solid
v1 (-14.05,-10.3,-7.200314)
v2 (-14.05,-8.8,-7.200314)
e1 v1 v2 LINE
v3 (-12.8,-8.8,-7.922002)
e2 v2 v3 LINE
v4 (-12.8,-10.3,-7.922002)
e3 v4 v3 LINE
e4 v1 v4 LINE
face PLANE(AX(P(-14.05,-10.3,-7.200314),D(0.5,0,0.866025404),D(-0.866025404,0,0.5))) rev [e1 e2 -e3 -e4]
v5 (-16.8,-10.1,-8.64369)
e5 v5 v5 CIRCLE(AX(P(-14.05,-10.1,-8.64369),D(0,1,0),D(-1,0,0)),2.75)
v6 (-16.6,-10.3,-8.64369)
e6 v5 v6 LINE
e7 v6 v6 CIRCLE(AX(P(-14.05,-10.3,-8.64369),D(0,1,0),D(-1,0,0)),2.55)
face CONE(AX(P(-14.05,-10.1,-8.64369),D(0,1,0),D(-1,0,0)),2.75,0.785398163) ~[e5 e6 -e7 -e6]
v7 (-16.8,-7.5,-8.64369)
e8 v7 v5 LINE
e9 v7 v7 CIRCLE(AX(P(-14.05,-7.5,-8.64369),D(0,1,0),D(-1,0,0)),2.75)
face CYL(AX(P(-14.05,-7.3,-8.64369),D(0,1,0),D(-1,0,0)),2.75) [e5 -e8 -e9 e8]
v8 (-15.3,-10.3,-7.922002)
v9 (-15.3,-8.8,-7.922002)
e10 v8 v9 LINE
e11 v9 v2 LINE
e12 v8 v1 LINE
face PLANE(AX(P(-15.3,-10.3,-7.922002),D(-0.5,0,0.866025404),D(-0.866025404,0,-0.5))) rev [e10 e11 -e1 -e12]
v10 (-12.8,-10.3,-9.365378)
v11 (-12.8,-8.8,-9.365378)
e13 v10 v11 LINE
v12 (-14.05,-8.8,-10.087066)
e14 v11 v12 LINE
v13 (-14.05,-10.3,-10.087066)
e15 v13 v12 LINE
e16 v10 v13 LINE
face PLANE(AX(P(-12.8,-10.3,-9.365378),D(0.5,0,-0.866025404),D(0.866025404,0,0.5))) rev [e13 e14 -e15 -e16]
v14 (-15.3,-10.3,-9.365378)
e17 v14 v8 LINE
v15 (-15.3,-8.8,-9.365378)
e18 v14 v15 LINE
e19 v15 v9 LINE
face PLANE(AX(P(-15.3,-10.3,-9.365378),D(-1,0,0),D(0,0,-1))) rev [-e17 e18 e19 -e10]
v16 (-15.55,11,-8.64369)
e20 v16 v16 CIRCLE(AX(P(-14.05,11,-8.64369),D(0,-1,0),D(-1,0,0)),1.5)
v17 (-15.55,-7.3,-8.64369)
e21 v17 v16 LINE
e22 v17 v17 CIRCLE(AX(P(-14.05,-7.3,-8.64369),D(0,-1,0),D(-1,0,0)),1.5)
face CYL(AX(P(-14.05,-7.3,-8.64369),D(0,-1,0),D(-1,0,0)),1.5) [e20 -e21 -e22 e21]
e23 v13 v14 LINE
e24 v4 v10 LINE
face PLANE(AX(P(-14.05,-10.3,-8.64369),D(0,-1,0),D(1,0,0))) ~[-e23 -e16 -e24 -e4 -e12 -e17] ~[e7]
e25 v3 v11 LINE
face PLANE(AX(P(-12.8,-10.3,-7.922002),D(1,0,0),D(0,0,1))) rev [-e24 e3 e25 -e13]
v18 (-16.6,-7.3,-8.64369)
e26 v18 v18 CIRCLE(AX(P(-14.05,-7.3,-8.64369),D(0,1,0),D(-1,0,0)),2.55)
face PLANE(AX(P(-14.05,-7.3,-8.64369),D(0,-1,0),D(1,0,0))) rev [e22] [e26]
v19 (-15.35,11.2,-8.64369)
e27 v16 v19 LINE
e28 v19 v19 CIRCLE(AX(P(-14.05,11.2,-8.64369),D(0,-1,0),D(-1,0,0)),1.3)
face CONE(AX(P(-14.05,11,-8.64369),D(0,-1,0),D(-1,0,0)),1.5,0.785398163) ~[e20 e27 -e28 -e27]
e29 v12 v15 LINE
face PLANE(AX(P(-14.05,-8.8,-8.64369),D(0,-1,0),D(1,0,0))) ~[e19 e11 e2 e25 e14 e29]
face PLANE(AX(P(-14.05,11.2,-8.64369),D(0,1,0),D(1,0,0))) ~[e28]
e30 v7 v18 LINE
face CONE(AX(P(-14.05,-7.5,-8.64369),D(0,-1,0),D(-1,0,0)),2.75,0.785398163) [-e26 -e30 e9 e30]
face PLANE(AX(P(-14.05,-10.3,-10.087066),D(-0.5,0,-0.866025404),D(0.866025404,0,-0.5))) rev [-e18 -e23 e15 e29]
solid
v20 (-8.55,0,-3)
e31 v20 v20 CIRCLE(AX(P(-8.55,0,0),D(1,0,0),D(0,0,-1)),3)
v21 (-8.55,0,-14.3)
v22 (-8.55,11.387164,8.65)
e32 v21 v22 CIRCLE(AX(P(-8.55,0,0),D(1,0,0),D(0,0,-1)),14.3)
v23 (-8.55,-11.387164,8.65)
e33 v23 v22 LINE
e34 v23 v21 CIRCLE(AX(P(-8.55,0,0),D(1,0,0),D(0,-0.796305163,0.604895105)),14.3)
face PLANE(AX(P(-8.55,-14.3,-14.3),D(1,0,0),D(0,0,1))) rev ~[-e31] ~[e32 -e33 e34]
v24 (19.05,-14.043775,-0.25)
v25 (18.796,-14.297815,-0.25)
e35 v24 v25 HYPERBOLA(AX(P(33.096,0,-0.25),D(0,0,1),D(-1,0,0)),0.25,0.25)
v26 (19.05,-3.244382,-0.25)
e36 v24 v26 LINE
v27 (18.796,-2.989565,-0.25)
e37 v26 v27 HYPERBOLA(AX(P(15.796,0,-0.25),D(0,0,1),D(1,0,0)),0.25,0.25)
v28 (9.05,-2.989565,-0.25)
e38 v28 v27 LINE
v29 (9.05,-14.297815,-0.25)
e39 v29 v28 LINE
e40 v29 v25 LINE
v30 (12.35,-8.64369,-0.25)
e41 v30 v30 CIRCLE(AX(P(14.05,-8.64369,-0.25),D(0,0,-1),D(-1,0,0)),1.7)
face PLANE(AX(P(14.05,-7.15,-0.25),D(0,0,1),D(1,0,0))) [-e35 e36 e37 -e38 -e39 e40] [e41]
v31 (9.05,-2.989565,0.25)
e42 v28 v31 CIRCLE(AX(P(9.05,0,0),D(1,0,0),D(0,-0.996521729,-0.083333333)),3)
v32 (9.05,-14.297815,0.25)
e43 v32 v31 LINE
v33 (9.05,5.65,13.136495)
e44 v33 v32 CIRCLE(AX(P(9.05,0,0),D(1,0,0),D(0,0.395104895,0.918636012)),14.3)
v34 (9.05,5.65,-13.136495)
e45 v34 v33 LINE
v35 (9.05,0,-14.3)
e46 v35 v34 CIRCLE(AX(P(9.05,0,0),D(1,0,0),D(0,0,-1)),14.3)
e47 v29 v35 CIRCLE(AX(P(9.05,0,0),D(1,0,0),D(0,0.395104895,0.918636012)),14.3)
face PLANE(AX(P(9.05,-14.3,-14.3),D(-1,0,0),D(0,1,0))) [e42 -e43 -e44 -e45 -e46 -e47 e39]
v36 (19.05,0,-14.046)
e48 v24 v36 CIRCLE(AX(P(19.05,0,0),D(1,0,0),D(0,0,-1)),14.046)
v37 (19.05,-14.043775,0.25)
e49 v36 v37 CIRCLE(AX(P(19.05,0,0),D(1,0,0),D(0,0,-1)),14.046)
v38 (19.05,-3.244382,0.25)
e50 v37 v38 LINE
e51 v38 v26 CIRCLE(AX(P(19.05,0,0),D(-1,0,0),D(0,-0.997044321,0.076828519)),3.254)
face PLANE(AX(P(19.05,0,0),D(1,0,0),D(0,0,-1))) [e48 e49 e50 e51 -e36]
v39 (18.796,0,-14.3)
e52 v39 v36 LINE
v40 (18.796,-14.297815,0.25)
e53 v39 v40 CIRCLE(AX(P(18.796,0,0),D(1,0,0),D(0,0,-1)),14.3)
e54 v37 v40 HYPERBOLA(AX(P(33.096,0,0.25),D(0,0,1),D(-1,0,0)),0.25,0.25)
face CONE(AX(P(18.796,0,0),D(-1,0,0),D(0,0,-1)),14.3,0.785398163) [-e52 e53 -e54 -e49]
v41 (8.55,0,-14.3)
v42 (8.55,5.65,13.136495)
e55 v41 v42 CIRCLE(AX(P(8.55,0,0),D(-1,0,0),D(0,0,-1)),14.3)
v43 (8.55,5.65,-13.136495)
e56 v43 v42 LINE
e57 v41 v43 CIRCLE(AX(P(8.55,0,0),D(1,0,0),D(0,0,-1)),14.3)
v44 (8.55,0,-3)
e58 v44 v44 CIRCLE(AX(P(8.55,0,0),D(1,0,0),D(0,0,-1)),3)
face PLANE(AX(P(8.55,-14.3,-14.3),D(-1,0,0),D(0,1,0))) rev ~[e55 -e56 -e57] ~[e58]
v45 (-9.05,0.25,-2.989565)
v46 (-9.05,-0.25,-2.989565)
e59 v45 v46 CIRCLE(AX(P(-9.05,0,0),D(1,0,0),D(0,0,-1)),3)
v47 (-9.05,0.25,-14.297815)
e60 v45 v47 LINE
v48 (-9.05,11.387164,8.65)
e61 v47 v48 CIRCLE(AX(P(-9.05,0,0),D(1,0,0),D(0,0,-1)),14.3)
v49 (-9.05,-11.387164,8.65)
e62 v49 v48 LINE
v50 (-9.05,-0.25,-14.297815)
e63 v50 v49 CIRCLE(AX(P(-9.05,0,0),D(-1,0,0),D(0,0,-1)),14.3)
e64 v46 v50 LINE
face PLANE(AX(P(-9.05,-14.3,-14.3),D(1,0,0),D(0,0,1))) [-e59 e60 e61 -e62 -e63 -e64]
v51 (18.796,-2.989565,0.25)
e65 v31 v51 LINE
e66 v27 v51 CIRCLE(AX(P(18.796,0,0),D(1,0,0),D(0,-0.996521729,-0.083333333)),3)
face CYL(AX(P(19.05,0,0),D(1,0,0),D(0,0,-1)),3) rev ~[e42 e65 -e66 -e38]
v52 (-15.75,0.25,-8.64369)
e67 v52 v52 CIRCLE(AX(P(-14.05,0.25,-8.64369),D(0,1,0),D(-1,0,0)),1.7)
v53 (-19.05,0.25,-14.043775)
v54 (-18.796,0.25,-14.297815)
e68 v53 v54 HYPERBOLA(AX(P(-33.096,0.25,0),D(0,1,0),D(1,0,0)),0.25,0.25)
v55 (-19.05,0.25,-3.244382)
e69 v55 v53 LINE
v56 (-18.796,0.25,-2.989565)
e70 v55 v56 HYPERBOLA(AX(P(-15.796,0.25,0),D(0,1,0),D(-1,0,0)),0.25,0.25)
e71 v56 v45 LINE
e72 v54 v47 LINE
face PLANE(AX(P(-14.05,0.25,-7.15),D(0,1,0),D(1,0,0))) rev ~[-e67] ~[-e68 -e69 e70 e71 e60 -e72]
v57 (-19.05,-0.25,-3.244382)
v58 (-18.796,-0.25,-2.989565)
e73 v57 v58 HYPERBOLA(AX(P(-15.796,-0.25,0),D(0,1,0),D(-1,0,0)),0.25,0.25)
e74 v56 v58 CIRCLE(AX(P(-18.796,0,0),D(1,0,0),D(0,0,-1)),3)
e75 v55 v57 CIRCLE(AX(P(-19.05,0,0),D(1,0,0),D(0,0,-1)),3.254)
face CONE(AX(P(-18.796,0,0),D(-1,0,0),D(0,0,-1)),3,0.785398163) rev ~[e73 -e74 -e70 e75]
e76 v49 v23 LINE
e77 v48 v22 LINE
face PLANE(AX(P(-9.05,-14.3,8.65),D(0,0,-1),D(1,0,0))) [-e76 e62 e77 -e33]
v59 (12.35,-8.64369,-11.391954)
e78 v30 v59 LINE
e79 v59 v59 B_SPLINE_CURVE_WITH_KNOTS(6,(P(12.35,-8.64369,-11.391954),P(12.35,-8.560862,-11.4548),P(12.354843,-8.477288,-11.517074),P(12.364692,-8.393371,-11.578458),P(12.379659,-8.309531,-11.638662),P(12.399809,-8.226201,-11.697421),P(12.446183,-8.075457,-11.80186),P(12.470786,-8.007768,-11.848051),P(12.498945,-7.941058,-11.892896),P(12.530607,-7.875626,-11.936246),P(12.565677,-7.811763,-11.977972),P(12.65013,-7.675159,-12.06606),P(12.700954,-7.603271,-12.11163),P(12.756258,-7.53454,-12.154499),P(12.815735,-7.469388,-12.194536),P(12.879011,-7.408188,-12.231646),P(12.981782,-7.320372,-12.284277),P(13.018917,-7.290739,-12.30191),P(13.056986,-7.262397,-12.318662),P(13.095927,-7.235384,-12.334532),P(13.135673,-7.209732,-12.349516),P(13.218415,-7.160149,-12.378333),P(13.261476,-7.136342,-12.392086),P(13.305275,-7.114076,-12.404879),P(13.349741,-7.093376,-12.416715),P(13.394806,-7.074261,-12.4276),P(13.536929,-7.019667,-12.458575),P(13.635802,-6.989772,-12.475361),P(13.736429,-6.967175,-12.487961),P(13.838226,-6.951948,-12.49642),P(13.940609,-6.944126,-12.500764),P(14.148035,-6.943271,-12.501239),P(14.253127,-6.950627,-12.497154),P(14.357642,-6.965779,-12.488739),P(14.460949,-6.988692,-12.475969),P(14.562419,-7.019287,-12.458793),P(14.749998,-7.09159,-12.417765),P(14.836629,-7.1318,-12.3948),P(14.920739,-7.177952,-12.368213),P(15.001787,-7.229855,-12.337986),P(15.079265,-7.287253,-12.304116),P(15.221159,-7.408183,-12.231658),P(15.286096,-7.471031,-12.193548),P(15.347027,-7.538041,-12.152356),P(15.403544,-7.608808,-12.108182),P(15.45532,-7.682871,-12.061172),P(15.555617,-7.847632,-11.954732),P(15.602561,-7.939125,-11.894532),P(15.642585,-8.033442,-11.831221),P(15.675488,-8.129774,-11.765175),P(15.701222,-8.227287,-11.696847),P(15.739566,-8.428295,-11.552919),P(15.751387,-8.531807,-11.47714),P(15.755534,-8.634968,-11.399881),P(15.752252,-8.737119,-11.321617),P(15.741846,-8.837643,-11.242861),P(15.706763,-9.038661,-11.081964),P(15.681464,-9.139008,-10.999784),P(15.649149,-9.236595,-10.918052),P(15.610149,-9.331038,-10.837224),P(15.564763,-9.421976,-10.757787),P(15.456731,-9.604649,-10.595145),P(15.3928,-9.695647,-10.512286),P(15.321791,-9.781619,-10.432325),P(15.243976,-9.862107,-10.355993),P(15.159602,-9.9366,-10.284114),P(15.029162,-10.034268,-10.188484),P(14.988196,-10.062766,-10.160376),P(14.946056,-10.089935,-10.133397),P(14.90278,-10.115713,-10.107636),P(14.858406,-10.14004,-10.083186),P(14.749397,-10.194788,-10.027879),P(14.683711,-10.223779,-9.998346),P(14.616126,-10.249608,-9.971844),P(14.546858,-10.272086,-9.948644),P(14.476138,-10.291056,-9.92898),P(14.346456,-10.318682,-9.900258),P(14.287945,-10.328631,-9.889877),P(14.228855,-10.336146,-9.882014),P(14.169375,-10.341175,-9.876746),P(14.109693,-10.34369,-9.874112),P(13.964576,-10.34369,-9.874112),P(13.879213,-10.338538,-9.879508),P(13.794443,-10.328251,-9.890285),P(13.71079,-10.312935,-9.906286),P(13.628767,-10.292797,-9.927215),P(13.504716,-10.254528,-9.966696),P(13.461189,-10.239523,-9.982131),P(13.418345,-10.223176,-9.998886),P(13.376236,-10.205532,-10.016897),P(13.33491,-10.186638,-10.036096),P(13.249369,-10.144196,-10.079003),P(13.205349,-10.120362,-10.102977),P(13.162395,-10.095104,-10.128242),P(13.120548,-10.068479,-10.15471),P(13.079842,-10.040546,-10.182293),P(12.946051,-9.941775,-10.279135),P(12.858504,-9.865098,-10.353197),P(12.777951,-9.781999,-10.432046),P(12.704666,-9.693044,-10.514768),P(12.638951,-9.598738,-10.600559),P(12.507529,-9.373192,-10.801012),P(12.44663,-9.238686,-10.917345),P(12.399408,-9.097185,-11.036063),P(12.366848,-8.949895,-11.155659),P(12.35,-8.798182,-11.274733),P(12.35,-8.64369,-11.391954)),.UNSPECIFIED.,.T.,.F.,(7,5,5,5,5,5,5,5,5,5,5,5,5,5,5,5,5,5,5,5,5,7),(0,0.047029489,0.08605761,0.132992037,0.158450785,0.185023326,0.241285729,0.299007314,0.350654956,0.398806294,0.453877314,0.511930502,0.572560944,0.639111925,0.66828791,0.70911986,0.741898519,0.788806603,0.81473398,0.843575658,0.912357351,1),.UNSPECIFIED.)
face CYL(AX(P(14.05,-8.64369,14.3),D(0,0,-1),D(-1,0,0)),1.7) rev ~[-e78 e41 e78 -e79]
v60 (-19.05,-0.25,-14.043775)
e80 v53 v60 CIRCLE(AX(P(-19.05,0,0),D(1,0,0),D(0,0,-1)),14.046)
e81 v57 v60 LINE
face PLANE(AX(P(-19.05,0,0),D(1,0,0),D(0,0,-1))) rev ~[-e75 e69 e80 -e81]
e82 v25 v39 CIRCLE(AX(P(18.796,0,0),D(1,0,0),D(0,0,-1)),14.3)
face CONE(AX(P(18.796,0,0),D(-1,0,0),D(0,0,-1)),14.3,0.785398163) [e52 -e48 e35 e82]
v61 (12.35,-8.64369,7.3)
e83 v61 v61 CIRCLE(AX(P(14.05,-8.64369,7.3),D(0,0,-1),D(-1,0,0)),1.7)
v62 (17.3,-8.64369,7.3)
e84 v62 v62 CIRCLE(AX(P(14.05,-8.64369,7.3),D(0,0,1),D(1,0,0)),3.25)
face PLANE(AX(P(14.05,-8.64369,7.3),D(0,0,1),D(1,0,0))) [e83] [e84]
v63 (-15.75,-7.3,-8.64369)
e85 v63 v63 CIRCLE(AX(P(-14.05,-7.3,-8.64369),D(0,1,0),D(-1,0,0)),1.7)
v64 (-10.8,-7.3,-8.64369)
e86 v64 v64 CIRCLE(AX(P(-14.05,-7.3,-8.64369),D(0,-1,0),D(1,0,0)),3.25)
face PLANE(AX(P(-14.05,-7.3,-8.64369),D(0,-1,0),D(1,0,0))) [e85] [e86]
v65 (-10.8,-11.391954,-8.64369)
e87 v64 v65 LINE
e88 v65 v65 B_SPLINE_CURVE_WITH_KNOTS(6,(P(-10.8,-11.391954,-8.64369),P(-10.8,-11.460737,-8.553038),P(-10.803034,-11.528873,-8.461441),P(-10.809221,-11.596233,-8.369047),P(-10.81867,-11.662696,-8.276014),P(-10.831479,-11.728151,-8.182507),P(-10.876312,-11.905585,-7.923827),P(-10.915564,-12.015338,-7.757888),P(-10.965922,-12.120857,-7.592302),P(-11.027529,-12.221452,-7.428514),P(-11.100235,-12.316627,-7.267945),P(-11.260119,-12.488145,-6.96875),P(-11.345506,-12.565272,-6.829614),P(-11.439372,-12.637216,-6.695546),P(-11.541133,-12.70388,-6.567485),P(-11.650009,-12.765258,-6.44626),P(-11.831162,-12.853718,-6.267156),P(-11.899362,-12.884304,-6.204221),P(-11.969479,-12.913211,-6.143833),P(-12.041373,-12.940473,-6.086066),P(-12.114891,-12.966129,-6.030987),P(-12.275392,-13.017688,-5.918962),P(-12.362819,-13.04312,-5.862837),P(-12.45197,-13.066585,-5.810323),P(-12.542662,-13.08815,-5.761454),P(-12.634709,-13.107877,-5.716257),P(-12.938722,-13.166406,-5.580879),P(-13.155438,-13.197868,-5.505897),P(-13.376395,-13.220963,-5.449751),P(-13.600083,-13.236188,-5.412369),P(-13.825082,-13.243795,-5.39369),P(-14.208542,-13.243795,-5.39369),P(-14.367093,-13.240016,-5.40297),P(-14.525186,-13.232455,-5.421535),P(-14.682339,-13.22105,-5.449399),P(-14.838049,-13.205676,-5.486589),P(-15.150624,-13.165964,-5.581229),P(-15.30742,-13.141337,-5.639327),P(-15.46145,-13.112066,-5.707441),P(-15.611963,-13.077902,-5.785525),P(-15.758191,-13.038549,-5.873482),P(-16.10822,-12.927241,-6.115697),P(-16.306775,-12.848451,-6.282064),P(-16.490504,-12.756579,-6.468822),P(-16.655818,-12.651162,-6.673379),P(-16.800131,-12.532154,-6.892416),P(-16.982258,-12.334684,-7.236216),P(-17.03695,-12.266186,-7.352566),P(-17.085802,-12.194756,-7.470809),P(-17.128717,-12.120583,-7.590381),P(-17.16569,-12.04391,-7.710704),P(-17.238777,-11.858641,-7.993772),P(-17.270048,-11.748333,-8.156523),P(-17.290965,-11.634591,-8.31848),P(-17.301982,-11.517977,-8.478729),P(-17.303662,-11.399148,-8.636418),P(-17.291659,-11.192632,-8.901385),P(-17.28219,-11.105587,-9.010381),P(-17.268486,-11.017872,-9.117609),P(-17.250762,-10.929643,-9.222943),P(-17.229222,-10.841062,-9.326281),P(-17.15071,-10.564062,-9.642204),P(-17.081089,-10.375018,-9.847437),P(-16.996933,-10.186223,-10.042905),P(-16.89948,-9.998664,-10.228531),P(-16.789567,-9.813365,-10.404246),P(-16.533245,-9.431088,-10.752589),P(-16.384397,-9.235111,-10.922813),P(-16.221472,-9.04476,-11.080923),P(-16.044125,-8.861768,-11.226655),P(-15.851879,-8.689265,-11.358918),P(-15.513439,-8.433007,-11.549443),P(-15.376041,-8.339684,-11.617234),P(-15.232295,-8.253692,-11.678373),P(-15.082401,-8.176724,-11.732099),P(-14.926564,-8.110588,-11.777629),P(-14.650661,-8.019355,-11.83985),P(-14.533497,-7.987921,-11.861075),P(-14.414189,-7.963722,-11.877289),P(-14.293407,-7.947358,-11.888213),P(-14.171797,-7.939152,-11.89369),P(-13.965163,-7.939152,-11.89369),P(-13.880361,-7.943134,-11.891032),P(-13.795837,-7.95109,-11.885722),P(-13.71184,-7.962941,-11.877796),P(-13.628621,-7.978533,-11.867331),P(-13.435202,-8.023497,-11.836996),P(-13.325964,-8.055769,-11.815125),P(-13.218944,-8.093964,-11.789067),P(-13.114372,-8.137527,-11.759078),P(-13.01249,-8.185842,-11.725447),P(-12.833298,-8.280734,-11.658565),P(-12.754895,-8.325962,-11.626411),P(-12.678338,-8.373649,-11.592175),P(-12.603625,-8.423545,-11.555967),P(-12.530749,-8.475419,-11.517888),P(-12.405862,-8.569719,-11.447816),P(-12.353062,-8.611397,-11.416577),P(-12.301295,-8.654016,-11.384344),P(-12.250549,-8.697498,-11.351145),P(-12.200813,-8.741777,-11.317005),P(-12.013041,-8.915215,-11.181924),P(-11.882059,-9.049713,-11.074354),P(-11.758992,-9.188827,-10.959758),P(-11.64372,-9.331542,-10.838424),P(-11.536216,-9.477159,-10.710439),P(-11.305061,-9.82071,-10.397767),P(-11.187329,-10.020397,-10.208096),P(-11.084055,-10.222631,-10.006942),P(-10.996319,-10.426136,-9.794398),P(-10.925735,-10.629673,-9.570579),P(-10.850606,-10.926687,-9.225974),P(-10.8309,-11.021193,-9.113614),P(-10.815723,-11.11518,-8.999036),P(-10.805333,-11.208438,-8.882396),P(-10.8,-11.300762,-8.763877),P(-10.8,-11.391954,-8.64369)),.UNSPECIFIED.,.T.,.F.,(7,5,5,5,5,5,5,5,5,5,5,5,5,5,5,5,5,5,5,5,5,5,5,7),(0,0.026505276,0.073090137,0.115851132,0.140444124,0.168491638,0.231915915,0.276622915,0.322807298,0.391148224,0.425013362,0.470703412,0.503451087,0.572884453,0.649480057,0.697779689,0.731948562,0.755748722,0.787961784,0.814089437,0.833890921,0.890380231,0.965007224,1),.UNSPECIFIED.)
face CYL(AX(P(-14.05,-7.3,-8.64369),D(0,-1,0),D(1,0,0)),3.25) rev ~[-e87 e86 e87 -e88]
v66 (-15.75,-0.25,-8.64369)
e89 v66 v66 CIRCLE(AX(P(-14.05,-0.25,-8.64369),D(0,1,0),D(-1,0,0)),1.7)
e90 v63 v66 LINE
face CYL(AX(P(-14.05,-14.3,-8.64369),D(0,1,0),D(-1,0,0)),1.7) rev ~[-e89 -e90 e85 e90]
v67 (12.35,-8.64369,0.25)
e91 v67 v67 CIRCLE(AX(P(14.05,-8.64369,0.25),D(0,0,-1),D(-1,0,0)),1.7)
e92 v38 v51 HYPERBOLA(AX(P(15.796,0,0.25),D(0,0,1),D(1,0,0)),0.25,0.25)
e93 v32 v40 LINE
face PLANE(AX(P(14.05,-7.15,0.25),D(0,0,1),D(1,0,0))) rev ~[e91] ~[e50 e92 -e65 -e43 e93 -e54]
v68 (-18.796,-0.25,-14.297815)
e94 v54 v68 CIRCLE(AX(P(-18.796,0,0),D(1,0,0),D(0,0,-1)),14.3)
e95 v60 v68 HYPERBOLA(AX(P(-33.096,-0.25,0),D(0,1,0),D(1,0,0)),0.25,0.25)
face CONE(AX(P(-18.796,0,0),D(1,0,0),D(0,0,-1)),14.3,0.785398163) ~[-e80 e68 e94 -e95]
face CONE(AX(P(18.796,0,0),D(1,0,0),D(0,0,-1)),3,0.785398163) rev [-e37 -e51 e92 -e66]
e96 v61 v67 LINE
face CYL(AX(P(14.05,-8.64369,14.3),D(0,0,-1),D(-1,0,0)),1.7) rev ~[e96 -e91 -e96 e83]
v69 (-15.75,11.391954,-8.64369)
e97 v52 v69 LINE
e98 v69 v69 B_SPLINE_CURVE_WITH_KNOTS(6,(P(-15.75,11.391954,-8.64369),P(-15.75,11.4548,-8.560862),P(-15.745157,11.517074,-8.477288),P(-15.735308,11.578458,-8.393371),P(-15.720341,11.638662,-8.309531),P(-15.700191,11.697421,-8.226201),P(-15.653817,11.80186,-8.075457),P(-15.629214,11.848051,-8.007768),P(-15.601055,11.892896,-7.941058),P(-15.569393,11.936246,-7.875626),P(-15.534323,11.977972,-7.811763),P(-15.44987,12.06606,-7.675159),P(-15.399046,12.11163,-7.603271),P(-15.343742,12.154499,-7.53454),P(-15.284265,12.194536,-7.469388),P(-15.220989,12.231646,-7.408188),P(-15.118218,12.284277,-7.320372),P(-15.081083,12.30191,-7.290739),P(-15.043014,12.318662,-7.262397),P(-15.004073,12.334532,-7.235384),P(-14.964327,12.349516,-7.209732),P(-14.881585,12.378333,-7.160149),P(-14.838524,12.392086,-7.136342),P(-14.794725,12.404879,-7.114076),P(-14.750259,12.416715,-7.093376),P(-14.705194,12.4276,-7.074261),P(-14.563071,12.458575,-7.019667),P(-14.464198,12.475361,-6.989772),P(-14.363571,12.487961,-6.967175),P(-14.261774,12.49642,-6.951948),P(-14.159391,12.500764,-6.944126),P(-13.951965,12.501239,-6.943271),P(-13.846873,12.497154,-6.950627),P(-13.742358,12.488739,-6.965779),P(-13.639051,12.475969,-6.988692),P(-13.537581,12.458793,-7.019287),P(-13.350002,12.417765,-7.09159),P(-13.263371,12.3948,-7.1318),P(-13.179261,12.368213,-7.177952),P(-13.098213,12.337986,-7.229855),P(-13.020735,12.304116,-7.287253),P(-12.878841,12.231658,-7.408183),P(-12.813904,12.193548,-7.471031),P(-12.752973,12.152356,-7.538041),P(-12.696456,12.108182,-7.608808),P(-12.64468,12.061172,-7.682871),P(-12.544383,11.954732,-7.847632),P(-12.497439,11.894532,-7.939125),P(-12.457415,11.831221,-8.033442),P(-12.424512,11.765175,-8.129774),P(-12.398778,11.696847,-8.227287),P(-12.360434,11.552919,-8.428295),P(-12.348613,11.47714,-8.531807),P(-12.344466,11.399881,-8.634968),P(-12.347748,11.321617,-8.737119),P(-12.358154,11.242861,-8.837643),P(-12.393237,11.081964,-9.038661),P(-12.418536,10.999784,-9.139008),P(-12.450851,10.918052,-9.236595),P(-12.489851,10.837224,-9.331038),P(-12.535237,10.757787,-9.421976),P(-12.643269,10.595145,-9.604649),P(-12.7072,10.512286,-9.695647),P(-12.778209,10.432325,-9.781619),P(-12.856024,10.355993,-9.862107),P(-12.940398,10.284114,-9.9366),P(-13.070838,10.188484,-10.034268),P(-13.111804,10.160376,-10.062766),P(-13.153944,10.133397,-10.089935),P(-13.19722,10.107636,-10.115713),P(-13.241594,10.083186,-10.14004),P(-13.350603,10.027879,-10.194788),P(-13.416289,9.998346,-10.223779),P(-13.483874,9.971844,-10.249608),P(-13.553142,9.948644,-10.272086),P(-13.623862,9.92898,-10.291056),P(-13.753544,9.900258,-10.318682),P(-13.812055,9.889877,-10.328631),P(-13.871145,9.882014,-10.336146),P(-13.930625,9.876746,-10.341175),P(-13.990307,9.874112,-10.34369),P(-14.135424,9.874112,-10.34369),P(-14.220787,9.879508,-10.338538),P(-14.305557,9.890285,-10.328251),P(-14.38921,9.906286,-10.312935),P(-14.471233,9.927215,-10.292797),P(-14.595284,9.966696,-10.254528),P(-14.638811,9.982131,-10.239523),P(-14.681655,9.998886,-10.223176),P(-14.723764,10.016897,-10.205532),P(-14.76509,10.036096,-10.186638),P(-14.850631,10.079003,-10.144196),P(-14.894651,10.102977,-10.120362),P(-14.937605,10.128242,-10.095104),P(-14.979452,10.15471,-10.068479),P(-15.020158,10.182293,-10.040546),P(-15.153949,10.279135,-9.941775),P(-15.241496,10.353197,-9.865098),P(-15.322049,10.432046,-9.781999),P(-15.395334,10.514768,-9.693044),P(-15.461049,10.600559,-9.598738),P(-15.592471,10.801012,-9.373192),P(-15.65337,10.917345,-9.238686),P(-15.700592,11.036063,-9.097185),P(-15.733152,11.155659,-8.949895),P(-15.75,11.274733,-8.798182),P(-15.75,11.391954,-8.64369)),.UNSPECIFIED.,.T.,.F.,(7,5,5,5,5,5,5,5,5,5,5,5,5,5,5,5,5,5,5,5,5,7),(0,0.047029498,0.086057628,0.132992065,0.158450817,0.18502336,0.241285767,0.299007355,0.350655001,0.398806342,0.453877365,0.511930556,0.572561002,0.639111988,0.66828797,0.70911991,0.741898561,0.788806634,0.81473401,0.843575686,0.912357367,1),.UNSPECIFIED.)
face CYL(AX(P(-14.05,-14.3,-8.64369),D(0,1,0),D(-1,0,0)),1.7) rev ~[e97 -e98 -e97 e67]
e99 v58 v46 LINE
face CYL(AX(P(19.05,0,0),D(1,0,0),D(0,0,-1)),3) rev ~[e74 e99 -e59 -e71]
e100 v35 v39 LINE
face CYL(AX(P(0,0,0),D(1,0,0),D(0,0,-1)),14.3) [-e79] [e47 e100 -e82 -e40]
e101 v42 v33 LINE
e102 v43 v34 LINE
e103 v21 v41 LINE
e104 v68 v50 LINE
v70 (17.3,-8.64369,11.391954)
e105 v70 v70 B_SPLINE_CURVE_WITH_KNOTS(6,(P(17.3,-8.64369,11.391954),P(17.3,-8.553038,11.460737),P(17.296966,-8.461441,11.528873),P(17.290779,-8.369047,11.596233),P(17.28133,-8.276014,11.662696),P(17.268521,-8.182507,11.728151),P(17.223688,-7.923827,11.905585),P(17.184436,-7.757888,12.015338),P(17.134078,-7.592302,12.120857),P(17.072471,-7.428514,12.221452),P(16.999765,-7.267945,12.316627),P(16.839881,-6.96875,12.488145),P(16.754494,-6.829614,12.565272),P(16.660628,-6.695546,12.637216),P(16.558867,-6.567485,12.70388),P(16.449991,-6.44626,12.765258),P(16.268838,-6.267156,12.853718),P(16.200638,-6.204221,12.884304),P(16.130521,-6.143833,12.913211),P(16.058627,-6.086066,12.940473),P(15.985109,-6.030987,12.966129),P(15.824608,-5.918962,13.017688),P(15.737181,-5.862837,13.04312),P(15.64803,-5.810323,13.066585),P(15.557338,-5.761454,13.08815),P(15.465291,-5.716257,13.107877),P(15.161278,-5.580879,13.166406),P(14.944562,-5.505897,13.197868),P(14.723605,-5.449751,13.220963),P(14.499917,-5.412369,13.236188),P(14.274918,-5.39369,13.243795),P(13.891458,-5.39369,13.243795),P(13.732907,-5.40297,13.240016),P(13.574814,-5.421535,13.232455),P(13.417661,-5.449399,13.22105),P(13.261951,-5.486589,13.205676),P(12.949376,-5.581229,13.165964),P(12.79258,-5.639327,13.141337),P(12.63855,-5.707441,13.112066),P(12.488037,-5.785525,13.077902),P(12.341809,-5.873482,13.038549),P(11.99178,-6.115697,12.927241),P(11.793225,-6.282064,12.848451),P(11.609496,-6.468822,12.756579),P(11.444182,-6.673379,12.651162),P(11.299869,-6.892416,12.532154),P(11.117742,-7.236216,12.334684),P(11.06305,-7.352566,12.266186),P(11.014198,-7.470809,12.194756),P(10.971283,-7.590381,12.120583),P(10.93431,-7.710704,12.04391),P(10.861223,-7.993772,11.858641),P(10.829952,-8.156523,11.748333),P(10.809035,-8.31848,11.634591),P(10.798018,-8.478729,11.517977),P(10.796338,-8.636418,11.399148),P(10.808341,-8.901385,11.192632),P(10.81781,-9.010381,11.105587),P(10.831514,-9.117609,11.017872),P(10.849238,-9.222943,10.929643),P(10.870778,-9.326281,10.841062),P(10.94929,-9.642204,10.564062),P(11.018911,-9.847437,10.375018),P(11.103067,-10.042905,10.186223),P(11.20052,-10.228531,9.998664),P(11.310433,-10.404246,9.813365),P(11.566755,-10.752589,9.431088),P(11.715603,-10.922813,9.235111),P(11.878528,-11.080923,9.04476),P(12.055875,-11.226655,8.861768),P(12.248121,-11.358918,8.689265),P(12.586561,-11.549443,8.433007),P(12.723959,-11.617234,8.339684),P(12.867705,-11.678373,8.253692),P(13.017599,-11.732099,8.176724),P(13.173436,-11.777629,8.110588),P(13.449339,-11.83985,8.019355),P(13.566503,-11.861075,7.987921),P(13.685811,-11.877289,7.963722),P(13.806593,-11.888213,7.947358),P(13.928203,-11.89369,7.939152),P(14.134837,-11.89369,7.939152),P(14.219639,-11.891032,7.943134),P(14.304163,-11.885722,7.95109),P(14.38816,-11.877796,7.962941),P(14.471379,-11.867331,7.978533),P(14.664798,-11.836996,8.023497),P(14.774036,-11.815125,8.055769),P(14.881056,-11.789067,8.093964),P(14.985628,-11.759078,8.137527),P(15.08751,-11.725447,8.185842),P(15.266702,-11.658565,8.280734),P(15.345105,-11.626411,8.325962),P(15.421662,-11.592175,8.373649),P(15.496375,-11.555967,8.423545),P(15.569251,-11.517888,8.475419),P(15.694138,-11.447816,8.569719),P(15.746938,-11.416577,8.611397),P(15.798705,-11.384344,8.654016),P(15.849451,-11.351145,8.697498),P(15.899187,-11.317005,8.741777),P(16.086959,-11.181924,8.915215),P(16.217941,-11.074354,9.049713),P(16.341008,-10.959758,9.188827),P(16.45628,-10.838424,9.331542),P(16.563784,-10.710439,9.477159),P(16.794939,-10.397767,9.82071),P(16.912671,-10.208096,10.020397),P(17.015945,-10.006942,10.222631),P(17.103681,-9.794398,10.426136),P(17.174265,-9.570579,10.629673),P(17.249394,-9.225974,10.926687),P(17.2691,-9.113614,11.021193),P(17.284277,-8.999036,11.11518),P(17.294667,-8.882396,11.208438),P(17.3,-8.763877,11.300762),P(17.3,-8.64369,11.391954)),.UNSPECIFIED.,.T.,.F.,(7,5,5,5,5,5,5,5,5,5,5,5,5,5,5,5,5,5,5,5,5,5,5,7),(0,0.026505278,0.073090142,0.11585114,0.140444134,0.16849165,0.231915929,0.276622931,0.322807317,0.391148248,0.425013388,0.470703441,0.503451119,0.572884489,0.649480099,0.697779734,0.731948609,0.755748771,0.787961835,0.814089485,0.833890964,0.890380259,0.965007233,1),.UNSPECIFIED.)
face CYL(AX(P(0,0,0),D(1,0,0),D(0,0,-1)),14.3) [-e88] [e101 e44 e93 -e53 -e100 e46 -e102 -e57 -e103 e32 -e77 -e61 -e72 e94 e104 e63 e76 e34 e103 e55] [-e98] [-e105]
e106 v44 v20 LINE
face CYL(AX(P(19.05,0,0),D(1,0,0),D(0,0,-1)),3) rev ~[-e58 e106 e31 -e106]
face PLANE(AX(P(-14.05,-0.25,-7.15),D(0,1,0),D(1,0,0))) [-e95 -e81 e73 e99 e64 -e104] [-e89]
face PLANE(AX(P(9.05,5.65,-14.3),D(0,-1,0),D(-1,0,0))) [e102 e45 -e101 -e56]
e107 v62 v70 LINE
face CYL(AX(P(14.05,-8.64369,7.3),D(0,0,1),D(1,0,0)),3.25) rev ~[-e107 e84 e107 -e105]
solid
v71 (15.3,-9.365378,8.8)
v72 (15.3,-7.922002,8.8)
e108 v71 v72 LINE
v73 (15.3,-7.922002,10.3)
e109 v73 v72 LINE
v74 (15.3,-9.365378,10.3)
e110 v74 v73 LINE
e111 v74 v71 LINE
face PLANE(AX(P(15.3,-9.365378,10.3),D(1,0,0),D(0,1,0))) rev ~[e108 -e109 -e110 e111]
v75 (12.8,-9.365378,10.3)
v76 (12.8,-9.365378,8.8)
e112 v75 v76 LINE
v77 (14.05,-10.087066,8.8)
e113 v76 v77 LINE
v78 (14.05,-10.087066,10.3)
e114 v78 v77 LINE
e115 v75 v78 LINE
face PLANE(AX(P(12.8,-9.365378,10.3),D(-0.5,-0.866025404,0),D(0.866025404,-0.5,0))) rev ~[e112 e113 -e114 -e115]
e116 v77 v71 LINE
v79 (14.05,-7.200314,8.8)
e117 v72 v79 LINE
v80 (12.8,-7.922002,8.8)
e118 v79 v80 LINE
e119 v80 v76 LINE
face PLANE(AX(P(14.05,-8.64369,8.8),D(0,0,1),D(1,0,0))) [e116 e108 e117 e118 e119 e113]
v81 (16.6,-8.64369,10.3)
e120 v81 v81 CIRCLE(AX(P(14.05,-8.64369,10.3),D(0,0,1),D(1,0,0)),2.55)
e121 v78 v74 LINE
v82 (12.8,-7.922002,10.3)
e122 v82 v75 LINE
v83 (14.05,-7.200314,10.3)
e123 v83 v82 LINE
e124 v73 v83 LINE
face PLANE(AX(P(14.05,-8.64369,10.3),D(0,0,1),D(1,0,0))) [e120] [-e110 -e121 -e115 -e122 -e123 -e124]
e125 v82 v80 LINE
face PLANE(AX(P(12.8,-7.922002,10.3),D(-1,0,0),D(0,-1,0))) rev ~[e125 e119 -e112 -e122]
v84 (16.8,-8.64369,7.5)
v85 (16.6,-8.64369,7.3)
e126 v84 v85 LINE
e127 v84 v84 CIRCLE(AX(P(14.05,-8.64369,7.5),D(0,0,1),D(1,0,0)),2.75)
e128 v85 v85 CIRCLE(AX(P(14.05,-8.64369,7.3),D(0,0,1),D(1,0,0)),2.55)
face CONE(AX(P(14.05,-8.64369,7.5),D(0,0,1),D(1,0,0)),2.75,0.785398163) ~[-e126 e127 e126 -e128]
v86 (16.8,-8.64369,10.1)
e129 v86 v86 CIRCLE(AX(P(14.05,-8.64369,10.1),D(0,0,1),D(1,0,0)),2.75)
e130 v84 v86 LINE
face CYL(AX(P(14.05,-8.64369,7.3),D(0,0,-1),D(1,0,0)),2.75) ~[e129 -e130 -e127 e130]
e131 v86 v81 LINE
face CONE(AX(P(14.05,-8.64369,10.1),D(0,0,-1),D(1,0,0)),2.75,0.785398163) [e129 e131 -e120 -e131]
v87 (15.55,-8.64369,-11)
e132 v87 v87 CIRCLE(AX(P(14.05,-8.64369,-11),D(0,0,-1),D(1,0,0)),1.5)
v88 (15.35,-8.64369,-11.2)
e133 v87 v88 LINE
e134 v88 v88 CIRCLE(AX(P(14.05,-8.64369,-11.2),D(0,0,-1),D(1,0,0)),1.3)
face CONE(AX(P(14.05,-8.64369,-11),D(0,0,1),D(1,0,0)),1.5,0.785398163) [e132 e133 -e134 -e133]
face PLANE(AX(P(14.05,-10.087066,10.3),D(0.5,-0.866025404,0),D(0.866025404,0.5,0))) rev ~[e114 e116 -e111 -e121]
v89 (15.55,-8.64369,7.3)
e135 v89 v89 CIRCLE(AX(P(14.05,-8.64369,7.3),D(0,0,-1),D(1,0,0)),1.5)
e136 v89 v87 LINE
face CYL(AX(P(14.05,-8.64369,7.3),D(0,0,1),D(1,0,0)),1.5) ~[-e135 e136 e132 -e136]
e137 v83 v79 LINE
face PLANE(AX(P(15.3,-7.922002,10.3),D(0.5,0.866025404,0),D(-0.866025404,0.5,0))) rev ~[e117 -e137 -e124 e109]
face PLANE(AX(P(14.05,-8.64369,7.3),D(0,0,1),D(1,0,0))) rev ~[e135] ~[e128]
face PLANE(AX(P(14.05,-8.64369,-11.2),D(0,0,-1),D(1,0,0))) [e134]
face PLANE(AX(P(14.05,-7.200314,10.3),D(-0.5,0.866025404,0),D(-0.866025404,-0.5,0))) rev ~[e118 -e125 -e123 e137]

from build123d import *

# Parameters (mm, degrees)
SKETCH1_R                      = 14.3
BOSS_EXTRUDE1_DEPTH            = 19.05
SKETCH2_R                      = 3
CUT_EXTRUDE1_DEPTH             = 39.1
CHAMFER1_SIZE                  = 0.254
SKETCH4_W                      = 0.5
SKETCH4_H                      = 22.95
CUT_EXTRUDE2_DEPTH             = 29.6
SKETCH7_W                      = 0.5
SKETCH7_H                      = 19.95
CUT_EXTRUDE3_DEPTH             = 29.6
SKETCH8_W                      = 10
SKETCH8_H                      = 14.3
CUT_EXTRUDE5_DEPTH             = 0.25
SKETCH13_W                     = 10
SKETCH13_H                     = 14.3
CUT_EXTRUDE6_DEPTH             = 0.25
CBORE_FOR_M3_SHCS1_D           = 3.4
CBORE_FOR_M3_SHCS1_CBORE_D     = 6.5
CBORE_FOR_M3_SHCS1_CBORE_DEPTH = 7
CBORE_FOR_M3_SHCS2_D           = 3.4
CBORE_FOR_M3_SHCS2_CBORE_D     = 6.5
CBORE_FOR_M3_SHCS2_CBORE_DEPTH = 7
SKETCH16_R                     = 2.75
BOSS_EXTRUDE2_DEPTH            = 3
SKETCH17_R                     = 1.5
BOSS_EXTRUDE3_DEPTH            = 18.5
CHAMFER2_SIZE                  = 0.2
CUT_EXTRUDE7_DEPTH             = 1.5
CIRPATTERN1_COUNT              = 2
CIRPATTERN1_ANGLE              = 90


with BuildPart() as part:
    # Sketch1 → Boss-Extrude1 (new body, symmetric)
    with BuildSketch(Plane(origin=(0, 0, 0), x_dir=(0, 0, -1), z_dir=(1, 0, 0))):
        Circle(SKETCH1_R)
    extrude(amount=BOSS_EXTRUDE1_DEPTH, both=True)

    # Sketch2 → Cut-Extrude1 (cut, through all)
    with BuildSketch(Plane(origin=(19.05, 0, 0), x_dir=(0, 0, -1), z_dir=(1, 0, 0))):
        Circle(SKETCH2_R)
    extrude(amount=-CUT_EXTRUDE1_DEPTH, mode=Mode.SUBTRACT)

    # Chamfer1
    chamfer1_edges = [part.edges().sort_by_distance(p)[0] for p in [
        (-19.05, 0, 14.3),
        (19.05, 0, 14.3),
        (-19.05, 0, 3),
        (19.05, 0, 3),
    ]]
    chamfer(chamfer1_edges, length=CHAMFER1_SIZE)

    # Sketch4 → Cut-Extrude2 (cut, through all)
    with BuildSketch(Plane.XZ.offset(14.3)):
        with Locations((-8.8, -2.825)):
            Rectangle(SKETCH4_W, SKETCH4_H)
    extrude(amount=-CUT_EXTRUDE2_DEPTH, mode=Mode.SUBTRACT)

    # Sketch7 → Cut-Extrude3 (cut, through all)
    with BuildSketch(Plane(origin=(0, 0, -14.3), x_dir=(-1, 0, 0), z_dir=(0, 0, -1))):
        with Locations((-8.8, -4.325)):
            Rectangle(SKETCH7_W, SKETCH7_H)
    extrude(amount=-CUT_EXTRUDE3_DEPTH, mode=Mode.SUBTRACT)

    # Sketch8 → Cut-Extrude5 (cut, symmetric)
    with BuildSketch(Plane(origin=(0, 0, 0), x_dir=(1, 0, 0), z_dir=(0, 1, 0))):
        with Locations((-14.05, 7.15)):
            Rectangle(SKETCH8_W, SKETCH8_H)
    extrude(amount=CUT_EXTRUDE5_DEPTH, both=True, mode=Mode.SUBTRACT)

    # Sketch13 → Cut-Extrude6 (cut, symmetric)
    with BuildSketch(Plane.XY):
        with Locations((14.05, -7.15)):
            Rectangle(SKETCH13_W, SKETCH13_H)
    extrude(amount=CUT_EXTRUDE6_DEPTH, both=True, mode=Mode.SUBTRACT)

    # CBORE for M3 SHCS1 (through all)
    with Locations(Plane.XZ.offset(14.3)):
        with Locations((-14.05, -8.643689852)):
            CounterBoreHole(CBORE_FOR_M3_SHCS1_D / 2, CBORE_FOR_M3_SHCS1_CBORE_D / 2, CBORE_FOR_M3_SHCS1_CBORE_DEPTH)

    # CBORE for M3 SHCS2 (through all)
    with Locations(Plane.XY.offset(14.3)):
        with Locations((14.05, -8.643689852)):
            CounterBoreHole(CBORE_FOR_M3_SHCS2_D / 2, CBORE_FOR_M3_SHCS2_CBORE_D / 2, CBORE_FOR_M3_SHCS2_CBORE_DEPTH)


with BuildPart() as body_2:
    # Sketch16 → Boss-Extrude2 (new body)
    with BuildSketch(Plane.XY.offset(7.3)):
        with Locations((14.05, -8.643689852)):
            Circle(SKETCH16_R)
    extrude(amount=BOSS_EXTRUDE2_DEPTH)

    # Sketch17 → Boss-Extrude3 (add)
    with BuildSketch(Plane(origin=(0, 0, 7.3), x_dir=(-1, 0, 0), z_dir=(0, 0, -1))):
        with Locations(Location((-14.05, -8.643689852, 0), (0, 0, 180))):  # turned: the seam where the file's is
            Circle(SKETCH17_R)
    extrude(amount=BOSS_EXTRUDE3_DEPTH)

    # Chamfer2
    chamfer2_edges = [body_2.edges().sort_by_distance(p)[0] for p in [
        (11.3, -8.643689852, 7.3),
        (11.3, -8.643689852, 10.3),
        (12.55, -8.643689852, -11.2),
    ]]
    chamfer(chamfer2_edges, length=CHAMFER2_SIZE)

    # Sketch18 → Cut-Extrude7 (cut)
    with BuildSketch(Plane.XY.offset(10.3)):
        Polygon((14.05, -10.087065525), (15.3, -9.365377689), (15.3, -7.922002016), (14.05, -7.200314179), (12.8, -7.922002016), (12.8, -9.365377689), align=None)
    extrude(amount=-CUT_EXTRUDE7_DEPTH, mode=Mode.SUBTRACT)


with BuildPart() as body_3:
    # Mirror1: mirrored copy
    add(body_2.part.mirror(Plane(origin=(0, 0, 0), x_dir=(0, 0, 1), z_dir=(1, 0, 0))))


with BuildPart() as cirpattern1_1:
    # CirPattern1: pattern copy
    add(body_3.part.rotate(Axis((0, 0, 0), (1, 0, 0)), 1 * CIRPATTERN1_ANGLE / (CIRPATTERN1_COUNT - 1)))


solid = Compound([part.part, body_2.part, cirpattern1_1.part])
